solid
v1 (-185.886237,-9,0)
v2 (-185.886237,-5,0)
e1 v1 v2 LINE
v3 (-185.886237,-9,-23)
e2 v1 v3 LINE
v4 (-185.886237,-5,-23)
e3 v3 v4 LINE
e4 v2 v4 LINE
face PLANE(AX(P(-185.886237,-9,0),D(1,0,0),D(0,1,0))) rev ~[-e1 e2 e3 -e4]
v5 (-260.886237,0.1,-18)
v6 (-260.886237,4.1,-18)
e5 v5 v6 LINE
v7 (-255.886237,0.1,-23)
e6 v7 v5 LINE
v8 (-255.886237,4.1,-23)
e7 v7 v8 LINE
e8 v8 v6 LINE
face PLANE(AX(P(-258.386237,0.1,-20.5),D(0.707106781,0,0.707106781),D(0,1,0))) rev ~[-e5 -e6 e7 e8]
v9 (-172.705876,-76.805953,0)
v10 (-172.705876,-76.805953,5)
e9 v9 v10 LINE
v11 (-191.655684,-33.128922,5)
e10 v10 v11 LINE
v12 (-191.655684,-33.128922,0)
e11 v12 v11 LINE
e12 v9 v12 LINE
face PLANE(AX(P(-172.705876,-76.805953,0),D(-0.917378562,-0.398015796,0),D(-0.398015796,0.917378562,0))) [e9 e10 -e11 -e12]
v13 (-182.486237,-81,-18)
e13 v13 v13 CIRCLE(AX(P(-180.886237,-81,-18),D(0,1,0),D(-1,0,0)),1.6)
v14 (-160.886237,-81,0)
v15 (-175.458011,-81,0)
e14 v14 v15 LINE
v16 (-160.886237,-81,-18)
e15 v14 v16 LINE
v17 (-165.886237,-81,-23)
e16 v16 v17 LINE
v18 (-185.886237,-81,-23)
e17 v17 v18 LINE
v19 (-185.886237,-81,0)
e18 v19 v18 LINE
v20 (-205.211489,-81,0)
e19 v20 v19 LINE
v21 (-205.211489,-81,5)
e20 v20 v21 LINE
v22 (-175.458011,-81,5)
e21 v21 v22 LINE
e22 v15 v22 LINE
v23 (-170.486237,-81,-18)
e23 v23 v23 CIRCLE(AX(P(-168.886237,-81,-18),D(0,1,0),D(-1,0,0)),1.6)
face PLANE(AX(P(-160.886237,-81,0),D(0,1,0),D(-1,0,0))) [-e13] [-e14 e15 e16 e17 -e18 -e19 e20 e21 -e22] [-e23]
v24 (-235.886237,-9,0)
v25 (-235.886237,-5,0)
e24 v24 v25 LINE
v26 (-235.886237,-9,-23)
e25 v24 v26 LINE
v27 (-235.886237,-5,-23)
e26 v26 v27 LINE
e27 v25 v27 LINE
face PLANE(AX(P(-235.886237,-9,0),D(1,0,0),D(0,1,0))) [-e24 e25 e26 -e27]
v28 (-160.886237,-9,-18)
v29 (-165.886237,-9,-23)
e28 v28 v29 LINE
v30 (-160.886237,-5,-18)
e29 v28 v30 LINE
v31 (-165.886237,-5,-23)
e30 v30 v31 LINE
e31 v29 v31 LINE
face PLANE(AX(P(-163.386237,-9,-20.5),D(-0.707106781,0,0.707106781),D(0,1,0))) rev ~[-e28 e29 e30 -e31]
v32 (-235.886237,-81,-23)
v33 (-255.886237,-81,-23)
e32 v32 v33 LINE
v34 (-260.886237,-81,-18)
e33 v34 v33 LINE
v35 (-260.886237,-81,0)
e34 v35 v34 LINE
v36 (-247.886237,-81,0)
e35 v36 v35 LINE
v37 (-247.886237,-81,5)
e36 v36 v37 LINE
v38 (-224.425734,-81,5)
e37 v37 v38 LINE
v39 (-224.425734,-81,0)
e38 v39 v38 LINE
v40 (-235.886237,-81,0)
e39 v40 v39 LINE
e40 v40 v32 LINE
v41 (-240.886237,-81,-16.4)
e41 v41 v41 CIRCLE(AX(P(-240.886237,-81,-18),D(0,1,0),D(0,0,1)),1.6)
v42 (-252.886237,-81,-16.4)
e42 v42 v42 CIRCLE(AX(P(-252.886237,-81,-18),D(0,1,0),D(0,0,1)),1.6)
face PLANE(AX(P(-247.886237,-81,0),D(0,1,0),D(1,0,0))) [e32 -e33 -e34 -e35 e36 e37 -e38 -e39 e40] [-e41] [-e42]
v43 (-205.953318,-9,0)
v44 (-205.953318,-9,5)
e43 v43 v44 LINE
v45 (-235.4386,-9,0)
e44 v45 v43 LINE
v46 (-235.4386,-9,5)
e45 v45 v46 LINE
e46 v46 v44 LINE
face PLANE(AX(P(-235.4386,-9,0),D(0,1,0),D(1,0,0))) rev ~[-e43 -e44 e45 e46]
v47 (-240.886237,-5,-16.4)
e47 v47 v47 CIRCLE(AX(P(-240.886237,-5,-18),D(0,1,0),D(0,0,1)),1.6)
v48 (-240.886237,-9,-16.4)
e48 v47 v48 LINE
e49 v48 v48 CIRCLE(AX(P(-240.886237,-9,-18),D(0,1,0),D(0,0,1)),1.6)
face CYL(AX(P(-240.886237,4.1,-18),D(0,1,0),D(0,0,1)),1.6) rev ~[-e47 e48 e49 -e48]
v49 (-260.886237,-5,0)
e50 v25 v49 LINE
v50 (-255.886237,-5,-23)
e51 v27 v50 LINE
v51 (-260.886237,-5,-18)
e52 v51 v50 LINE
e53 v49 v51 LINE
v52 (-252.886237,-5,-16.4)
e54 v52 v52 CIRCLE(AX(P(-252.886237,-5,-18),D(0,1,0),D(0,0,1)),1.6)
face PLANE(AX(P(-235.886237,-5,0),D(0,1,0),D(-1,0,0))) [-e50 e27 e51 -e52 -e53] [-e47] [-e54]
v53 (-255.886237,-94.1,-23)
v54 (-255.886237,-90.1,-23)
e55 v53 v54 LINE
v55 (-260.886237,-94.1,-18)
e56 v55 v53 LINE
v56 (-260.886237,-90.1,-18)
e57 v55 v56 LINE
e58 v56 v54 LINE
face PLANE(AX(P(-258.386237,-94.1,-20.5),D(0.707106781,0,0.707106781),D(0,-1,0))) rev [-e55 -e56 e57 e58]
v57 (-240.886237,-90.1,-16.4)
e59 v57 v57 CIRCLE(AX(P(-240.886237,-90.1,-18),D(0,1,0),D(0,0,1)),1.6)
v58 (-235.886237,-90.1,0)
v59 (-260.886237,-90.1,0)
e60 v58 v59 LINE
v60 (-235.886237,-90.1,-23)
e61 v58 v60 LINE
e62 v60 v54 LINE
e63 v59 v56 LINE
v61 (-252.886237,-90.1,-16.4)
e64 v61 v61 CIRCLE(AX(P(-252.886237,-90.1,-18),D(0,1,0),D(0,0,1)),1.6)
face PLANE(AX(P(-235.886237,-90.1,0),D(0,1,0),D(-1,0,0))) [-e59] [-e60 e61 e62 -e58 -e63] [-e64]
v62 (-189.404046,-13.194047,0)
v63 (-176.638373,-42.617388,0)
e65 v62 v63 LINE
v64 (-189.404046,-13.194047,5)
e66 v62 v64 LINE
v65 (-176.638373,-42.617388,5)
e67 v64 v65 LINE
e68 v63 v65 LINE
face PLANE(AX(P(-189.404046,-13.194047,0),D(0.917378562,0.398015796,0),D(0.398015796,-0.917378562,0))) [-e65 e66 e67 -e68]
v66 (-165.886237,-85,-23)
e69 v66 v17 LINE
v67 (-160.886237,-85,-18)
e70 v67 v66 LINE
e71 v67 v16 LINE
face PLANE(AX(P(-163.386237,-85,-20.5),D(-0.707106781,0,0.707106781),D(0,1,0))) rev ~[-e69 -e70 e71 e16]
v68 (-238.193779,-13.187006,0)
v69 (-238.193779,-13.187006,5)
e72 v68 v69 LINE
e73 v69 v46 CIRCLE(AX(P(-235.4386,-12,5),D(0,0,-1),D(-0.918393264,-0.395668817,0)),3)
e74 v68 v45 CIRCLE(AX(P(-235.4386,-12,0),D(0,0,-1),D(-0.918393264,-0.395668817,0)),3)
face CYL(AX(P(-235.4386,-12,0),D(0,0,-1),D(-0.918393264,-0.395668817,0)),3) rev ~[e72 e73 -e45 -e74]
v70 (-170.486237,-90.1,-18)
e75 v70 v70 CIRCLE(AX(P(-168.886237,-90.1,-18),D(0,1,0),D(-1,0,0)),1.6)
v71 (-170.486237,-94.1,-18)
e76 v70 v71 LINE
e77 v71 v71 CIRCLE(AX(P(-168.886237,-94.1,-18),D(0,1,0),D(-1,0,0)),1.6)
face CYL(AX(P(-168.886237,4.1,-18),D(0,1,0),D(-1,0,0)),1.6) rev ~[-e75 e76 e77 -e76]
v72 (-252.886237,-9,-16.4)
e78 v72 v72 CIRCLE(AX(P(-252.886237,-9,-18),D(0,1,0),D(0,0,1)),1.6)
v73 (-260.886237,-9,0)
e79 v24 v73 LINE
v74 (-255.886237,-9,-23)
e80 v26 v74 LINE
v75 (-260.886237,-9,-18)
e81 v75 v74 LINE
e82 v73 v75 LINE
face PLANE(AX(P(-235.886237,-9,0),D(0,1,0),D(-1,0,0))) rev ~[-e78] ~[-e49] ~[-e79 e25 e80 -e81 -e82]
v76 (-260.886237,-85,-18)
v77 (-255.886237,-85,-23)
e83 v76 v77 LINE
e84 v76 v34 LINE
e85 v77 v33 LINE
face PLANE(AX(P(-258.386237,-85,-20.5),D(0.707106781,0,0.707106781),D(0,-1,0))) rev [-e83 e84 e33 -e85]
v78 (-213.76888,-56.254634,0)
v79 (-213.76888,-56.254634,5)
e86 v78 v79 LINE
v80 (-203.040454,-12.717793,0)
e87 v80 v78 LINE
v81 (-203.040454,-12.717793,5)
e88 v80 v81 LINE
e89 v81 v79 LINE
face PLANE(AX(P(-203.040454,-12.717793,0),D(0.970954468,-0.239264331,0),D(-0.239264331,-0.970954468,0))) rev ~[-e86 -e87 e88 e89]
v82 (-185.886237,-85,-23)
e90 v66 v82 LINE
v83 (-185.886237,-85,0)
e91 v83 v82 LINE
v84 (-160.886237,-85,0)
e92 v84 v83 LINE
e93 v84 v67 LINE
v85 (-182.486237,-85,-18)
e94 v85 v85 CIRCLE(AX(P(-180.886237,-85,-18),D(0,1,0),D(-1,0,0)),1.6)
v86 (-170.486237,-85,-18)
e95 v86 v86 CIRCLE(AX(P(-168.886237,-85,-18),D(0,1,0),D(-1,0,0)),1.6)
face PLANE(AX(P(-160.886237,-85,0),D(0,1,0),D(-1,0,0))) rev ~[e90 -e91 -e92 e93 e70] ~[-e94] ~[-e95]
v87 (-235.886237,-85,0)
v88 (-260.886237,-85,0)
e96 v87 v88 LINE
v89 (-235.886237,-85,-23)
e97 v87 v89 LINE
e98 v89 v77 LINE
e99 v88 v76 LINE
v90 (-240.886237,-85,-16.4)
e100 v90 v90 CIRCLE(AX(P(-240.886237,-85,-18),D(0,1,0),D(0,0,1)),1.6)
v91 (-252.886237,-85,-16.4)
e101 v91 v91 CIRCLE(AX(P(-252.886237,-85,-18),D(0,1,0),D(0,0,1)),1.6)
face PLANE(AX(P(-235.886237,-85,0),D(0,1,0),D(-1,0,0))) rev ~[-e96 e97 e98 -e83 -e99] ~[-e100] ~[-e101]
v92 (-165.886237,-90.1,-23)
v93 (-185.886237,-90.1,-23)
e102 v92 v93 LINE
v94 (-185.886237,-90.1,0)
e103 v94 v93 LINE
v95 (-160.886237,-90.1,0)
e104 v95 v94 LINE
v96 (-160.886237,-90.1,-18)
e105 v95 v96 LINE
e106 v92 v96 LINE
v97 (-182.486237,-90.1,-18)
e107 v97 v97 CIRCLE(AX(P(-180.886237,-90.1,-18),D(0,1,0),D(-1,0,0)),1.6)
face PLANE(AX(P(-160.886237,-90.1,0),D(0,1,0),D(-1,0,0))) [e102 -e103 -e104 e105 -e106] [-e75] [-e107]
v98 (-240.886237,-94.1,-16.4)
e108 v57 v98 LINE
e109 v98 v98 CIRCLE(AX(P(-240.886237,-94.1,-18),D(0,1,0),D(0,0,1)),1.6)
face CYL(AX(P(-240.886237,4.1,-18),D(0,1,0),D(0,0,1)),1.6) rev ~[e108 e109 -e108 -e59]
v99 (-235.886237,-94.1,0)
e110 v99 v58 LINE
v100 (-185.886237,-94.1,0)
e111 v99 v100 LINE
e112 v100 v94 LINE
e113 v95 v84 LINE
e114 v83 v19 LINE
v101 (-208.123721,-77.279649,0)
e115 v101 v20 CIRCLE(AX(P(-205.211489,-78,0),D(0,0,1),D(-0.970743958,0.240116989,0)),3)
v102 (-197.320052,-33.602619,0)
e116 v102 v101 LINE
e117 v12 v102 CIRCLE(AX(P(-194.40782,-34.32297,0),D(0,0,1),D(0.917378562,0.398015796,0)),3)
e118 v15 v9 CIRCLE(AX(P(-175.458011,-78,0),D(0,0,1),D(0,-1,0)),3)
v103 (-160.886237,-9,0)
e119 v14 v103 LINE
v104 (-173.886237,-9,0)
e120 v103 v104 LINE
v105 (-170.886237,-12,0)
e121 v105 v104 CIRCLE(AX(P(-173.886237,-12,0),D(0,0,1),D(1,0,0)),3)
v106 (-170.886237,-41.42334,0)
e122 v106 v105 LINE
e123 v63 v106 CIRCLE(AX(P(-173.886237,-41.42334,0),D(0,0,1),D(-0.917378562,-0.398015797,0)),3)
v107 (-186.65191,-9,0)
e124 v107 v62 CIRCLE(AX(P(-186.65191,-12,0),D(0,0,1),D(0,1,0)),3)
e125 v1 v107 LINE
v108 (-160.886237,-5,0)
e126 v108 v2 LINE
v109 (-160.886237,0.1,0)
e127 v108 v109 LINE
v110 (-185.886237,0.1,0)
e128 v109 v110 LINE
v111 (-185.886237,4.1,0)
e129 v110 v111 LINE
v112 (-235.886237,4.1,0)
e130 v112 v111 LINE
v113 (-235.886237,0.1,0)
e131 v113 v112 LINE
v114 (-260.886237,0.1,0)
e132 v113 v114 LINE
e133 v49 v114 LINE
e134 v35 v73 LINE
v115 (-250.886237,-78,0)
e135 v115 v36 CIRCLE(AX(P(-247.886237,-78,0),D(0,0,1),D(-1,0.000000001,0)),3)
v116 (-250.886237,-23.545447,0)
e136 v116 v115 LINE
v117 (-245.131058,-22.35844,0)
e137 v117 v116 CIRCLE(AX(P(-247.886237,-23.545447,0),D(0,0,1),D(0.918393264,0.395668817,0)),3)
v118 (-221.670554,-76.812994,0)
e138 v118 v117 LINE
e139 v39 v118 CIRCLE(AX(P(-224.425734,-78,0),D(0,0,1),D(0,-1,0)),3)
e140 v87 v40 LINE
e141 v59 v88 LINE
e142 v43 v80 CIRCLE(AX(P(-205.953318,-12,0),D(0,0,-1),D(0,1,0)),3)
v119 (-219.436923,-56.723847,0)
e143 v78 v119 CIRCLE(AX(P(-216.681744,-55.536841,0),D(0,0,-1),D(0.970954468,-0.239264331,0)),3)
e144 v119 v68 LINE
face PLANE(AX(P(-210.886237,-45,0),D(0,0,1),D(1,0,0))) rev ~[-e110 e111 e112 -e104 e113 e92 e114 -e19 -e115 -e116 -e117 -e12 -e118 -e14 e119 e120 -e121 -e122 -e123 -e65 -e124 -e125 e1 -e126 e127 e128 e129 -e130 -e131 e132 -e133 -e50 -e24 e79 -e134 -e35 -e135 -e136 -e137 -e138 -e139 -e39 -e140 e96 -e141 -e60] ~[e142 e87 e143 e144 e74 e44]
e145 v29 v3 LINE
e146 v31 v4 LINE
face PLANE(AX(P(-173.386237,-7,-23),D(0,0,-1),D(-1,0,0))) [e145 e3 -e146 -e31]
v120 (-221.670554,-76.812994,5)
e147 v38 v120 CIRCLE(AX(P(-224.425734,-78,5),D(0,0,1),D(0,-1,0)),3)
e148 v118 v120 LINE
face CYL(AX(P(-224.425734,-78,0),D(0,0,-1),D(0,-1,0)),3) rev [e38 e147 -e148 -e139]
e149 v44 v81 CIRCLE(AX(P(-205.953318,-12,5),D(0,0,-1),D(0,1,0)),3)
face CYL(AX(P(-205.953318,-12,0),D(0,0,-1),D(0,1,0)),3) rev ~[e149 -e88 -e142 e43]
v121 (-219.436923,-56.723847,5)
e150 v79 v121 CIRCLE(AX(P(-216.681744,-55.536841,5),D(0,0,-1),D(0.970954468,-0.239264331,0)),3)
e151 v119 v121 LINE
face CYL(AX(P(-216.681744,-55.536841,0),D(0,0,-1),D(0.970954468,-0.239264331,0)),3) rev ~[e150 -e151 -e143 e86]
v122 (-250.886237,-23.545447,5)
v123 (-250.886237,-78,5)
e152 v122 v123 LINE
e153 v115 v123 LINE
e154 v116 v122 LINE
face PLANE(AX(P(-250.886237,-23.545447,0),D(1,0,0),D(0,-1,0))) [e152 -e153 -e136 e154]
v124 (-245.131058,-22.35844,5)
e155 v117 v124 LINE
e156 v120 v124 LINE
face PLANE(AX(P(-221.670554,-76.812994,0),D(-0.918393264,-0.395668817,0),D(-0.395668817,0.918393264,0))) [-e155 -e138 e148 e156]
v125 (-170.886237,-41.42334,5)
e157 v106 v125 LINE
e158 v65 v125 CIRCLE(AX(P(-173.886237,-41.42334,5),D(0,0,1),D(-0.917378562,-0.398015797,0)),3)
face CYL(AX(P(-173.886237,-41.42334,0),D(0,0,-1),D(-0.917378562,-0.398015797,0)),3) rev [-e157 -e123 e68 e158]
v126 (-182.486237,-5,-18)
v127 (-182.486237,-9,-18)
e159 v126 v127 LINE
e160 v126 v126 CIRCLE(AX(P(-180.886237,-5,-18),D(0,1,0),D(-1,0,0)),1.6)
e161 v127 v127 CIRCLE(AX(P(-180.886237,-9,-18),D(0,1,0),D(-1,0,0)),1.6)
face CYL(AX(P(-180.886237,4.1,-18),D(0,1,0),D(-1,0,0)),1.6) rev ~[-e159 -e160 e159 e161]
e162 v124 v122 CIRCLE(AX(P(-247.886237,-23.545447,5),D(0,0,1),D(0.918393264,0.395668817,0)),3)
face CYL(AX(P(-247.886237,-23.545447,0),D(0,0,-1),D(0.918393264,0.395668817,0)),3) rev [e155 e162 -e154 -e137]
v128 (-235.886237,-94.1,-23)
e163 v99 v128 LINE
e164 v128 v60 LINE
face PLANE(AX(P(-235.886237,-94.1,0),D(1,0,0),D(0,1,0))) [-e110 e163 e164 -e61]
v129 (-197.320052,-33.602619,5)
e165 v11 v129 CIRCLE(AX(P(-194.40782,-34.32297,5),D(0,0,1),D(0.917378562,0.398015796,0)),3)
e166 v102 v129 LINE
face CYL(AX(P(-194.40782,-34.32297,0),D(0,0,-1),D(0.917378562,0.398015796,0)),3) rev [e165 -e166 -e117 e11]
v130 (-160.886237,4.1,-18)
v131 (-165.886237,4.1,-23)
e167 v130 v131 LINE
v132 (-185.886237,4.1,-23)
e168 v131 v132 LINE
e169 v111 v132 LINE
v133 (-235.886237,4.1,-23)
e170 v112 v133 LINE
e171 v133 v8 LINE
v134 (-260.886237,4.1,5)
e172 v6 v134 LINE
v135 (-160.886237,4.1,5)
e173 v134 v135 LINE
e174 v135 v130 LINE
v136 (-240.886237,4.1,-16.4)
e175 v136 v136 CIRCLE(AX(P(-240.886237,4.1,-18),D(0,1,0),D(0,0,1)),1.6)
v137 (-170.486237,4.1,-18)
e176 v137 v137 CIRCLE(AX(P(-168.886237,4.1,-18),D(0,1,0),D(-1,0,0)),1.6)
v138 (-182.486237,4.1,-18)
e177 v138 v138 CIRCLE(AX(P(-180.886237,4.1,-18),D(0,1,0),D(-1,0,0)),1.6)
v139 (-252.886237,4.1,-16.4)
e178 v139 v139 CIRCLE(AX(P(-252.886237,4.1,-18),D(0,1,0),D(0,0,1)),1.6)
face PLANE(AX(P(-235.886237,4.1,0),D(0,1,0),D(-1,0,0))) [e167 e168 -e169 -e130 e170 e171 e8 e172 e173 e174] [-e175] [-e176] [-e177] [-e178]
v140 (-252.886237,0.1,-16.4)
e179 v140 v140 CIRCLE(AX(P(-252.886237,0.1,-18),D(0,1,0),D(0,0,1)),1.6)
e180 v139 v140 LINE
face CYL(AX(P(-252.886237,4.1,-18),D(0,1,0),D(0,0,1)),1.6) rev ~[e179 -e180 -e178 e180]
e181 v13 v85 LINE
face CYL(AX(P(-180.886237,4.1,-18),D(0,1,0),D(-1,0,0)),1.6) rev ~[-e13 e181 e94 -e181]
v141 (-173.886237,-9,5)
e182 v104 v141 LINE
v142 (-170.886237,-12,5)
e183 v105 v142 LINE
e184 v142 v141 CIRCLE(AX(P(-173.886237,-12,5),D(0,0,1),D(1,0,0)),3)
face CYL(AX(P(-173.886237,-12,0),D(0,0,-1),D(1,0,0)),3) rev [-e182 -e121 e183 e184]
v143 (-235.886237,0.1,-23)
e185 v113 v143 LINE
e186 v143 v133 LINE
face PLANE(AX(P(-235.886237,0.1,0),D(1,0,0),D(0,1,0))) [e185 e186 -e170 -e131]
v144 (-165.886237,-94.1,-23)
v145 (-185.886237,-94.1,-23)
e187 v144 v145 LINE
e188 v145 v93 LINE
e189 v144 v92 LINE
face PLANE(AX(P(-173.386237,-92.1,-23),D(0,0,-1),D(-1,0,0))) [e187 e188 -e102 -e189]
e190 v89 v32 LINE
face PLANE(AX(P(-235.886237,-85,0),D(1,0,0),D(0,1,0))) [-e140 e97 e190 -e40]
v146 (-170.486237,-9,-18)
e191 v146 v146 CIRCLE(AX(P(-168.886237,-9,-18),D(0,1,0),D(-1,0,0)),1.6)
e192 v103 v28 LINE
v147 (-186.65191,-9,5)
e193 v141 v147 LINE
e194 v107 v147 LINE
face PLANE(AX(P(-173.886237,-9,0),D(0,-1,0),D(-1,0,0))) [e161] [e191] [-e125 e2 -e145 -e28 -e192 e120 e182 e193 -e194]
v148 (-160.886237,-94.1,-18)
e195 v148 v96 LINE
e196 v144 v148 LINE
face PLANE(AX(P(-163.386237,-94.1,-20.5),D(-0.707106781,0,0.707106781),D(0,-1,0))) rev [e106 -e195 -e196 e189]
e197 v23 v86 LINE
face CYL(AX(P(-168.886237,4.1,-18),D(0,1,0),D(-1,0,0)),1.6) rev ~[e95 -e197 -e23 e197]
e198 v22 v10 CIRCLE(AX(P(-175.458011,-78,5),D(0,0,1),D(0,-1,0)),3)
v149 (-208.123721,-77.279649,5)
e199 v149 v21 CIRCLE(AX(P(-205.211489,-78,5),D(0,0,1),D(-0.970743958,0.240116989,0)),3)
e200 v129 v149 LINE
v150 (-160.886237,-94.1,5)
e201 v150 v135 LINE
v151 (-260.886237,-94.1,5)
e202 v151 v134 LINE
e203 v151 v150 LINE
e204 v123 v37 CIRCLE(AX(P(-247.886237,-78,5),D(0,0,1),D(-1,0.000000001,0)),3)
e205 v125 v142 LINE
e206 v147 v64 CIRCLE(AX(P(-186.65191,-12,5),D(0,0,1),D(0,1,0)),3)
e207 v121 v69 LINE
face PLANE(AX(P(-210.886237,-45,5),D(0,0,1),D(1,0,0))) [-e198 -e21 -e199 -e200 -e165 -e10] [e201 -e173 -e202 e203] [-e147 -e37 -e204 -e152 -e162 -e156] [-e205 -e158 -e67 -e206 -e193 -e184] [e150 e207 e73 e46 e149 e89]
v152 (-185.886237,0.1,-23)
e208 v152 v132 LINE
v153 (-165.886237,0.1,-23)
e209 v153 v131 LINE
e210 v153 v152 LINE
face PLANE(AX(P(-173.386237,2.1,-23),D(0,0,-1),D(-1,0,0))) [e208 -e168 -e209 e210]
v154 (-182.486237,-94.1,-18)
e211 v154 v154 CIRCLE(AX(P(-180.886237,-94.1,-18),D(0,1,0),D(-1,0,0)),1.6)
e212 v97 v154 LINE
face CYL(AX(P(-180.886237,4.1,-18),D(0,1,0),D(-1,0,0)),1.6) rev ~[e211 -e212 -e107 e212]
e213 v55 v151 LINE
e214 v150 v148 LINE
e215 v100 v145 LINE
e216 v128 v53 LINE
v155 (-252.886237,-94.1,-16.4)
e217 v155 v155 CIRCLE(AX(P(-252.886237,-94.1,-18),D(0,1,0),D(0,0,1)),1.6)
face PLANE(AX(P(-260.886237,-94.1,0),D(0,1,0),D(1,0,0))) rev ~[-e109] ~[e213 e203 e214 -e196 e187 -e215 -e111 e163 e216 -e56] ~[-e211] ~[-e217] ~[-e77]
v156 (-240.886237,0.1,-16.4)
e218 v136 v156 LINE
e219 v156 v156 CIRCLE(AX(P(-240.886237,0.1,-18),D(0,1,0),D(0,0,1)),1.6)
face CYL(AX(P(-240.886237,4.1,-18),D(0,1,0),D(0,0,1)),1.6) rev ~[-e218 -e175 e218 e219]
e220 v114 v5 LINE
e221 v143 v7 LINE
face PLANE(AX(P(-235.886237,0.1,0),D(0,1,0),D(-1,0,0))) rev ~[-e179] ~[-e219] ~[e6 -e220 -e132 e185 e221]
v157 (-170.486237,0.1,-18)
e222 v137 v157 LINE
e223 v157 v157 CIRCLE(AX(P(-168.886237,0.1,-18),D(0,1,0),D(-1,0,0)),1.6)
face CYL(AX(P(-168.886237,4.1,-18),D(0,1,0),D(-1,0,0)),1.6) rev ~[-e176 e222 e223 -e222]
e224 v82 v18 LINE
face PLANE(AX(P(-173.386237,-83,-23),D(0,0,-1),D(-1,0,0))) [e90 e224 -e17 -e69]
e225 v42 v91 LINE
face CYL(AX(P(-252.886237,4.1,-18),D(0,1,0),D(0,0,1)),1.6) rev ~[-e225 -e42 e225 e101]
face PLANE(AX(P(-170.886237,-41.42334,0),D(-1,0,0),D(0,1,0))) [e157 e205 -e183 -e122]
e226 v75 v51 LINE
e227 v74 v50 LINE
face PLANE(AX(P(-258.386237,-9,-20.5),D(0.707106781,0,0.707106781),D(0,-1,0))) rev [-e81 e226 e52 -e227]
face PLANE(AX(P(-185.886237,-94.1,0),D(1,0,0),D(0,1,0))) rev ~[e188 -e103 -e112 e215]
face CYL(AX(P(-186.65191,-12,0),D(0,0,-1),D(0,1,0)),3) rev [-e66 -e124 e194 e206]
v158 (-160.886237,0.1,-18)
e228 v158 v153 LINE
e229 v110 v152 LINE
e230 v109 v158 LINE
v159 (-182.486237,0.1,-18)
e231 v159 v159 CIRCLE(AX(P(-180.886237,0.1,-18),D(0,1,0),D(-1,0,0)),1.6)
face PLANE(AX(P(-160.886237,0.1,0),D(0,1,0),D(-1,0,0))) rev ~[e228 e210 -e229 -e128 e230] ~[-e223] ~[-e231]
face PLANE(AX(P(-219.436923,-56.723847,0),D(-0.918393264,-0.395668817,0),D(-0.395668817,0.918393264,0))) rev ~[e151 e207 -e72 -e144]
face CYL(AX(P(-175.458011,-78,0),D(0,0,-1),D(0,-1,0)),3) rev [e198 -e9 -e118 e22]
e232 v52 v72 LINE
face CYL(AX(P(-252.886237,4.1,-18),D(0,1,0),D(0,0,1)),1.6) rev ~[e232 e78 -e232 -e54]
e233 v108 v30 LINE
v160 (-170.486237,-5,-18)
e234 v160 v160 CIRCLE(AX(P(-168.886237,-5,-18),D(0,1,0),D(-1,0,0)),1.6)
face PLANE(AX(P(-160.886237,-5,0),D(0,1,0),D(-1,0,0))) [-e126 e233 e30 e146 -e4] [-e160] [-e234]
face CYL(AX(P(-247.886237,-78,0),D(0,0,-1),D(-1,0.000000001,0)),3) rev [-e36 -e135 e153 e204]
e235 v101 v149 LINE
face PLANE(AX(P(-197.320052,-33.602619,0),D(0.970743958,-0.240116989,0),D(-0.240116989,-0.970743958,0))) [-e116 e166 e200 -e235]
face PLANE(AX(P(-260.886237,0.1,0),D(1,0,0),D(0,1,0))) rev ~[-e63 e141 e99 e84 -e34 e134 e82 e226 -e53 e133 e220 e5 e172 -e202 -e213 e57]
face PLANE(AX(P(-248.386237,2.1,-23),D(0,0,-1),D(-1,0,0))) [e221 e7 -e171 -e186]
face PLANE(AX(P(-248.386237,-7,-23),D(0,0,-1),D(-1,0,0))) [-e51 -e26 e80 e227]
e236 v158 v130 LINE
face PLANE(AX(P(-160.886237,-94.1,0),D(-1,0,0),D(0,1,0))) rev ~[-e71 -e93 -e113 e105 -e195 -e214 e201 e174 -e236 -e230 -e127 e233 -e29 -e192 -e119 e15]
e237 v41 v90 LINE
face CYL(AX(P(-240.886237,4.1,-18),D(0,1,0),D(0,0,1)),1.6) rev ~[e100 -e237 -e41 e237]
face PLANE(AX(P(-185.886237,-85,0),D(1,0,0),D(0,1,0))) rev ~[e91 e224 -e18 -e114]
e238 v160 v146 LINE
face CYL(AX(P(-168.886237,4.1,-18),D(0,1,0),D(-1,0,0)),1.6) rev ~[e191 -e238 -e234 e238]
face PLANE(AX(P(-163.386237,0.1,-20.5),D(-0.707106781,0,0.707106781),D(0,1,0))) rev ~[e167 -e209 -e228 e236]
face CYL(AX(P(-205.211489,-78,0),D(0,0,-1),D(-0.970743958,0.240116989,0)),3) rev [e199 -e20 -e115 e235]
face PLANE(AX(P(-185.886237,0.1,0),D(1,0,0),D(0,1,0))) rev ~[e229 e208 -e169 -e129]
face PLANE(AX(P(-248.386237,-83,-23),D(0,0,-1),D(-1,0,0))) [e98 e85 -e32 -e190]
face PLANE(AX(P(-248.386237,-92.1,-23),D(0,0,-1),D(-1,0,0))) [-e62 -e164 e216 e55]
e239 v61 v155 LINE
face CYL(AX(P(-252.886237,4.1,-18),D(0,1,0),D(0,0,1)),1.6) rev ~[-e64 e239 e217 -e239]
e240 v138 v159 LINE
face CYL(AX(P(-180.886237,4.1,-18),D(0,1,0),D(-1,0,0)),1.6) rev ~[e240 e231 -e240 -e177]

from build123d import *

# Parameters (mm, degrees)
SKETCH_1_W          = 100
SKETCH_1_H          = 98.2
EXTRUDE_1_DEPTH     = 5
SKETCH_2_W          = 25
SKETCH_2_H          = 4
EXTRUDE_2_DEPTH     = 23
CHAMFER_1_SIZE      = 5
SKETCH_3_R          = 1.6
CUT_EXTRUDE_1_DEPTH = 100


with BuildPart() as part:
    # 草图1 → 凸台-拉伸1 (new body)
    with BuildSketch(Plane.XY):
        with Locations((-210.886237356, -45)):
            Rectangle(SKETCH_1_W, SKETCH_1_H)
        with BuildLine():
            ThreePointArc((-245.131057565, -22.358440495), (-248.492232664, -20.607289414), (-250.886237356, -23.545446947))
            Line((-250.886237356, -23.545446947), (-250.886237356, -78))
            ThreePointArc((-250.886237356, -78), (-250.0075577, -80.121320344), (-247.886237356, -81))
            Line((-247.886237356, -81), (-224.42573361, -81))
            ThreePointArc((-224.42573361, -81), (-221.919639103, -79.649087724), (-221.670553819, -76.812993548))
            Line((-221.670553819, -76.812993548), (-245.131057565, -22.358440495))
        make_face(mode=Mode.SUBTRACT)
        with BuildLine():
            ThreePointArc((-191.655684006, -33.128922342), (-194.657829236, -31.333405344), (-197.320051564, -33.602618764))
            Line((-197.320051564, -33.602618764), (-208.123721184, -77.279649032))
            ThreePointArc((-208.123721184, -77.279649032), (-207.573803103, -79.849181859), (-205.211489311, -81))
            Line((-205.211489311, -81), (-175.458011282, -81))
            ThreePointArc((-175.458011282, -81), (-172.949810516, -79.645882413), (-172.705875596, -76.805952611))
            Line((-172.705875596, -76.805952611), (-191.655684006, -33.128922342))
        make_face(mode=Mode.SUBTRACT)
        with BuildLine():
            ThreePointArc((-176.638373042, -42.617387799), (-173.276486201, -44.360720795), (-170.886237356, -41.42334041))
            Line((-170.886237356, -41.42334041), (-170.886237356, -12))
            ThreePointArc((-170.886237356, -12), (-171.764917013, -9.878679656), (-173.886237356, -9))
            Line((-173.886237356, -9), (-186.651909841, -9))
            ThreePointArc((-186.651909841, -9), (-189.160110607, -10.354117587), (-189.404045527, -13.194047389))
            Line((-189.404045527, -13.194047389), (-176.638373042, -42.617387799))
        make_face(mode=Mode.SUBTRACT)
        with BuildLine():
            Line((-203.040454286, -12.717792993), (-213.768880163, -56.2546336))
            ThreePointArc((-213.768880163, -56.2546336), (-216.43424337, -58.526613784), (-219.43692336, -56.723847059))
            Line((-219.43692336, -56.723847059), (-238.193779397, -13.187006452))
            ThreePointArc((-238.193779397, -13.187006452), (-237.944694112, -10.350912276), (-235.438599605, -9))
            Line((-235.438599605, -9), (-205.953317692, -9))
            ThreePointArc((-205.953317692, -9), (-203.591816159, -10.149780956), (-203.040454286, -12.717792993))
        make_face(mode=Mode.SUBTRACT)
    extrude(amount=EXTRUDE_1_DEPTH)

    # 草图2 → 凸台-拉伸2 (add)
    with BuildSketch(Plane(origin=(0, 0, 0), x_dir=(-1, 0, 0), z_dir=(0, 0, -1))):
        with Locations((248.386237356, 2.1)):
            Rectangle(SKETCH_2_W, SKETCH_2_H)
        with Locations((248.386237356, -7)):
            Rectangle(SKETCH_2_W, SKETCH_2_H)
        with Locations((173.386237356, -7)):
            Rectangle(SKETCH_2_W, SKETCH_2_H)
        with Locations((173.386237356, 2.1)):
            Rectangle(SKETCH_2_W, SKETCH_2_H)
        with Locations((173.386237356, -92.1)):
            Rectangle(SKETCH_2_W, SKETCH_2_H)
        with Locations((173.386237356, -83)):
            Rectangle(SKETCH_2_W, SKETCH_2_H)
        with Locations((248.386237356, -83)):
            Rectangle(SKETCH_2_W, SKETCH_2_H)
        with Locations((248.386237356, -92.1)):
            Rectangle(SKETCH_2_W, SKETCH_2_H)
    extrude(amount=EXTRUDE_2_DEPTH)

    # 倒角1
    chamfer_1_edges = [part.edges().sort_by_distance(p)[0] for p in [
        (-160.886237356, -7, -23),
        (-160.886237356, 2.1, -23),
        (-160.886237356, -92.1, -23),
        (-160.886237356, -83, -23),
        (-260.886237356, -83, -23),
        (-260.886237356, -92.1, -23),
        (-260.886237356, 2.1, -23),
        (-260.886237356, -7, -23),
    ]]
    chamfer(chamfer_1_edges, length=CHAMFER_1_SIZE)

    # 草图3 → 切除-拉伸1 (cut)
    with BuildSketch(Plane(origin=(0, 4.1, 0), x_dir=(1, 0, 0), z_dir=(0, 1, 0))):
        with Locations(Location((-252.886237356, 18, 0), (0, 0, 270))):
            Circle(SKETCH_3_R)
        with Locations(Location((-240.886237356, 18, 0), (0, 0, 270))):
            Circle(SKETCH_3_R)
        with Locations(Location((-180.886237356, 18, 0), (0, 0, 180))):
            Circle(SKETCH_3_R)
        with Locations(Location((-168.886237356, 18, 0), (0, 0, 180))):
            Circle(SKETCH_3_R)
    extrude(amount=-CUT_EXTRUDE_1_DEPTH, mode=Mode.SUBTRACT)


solid = part.part
